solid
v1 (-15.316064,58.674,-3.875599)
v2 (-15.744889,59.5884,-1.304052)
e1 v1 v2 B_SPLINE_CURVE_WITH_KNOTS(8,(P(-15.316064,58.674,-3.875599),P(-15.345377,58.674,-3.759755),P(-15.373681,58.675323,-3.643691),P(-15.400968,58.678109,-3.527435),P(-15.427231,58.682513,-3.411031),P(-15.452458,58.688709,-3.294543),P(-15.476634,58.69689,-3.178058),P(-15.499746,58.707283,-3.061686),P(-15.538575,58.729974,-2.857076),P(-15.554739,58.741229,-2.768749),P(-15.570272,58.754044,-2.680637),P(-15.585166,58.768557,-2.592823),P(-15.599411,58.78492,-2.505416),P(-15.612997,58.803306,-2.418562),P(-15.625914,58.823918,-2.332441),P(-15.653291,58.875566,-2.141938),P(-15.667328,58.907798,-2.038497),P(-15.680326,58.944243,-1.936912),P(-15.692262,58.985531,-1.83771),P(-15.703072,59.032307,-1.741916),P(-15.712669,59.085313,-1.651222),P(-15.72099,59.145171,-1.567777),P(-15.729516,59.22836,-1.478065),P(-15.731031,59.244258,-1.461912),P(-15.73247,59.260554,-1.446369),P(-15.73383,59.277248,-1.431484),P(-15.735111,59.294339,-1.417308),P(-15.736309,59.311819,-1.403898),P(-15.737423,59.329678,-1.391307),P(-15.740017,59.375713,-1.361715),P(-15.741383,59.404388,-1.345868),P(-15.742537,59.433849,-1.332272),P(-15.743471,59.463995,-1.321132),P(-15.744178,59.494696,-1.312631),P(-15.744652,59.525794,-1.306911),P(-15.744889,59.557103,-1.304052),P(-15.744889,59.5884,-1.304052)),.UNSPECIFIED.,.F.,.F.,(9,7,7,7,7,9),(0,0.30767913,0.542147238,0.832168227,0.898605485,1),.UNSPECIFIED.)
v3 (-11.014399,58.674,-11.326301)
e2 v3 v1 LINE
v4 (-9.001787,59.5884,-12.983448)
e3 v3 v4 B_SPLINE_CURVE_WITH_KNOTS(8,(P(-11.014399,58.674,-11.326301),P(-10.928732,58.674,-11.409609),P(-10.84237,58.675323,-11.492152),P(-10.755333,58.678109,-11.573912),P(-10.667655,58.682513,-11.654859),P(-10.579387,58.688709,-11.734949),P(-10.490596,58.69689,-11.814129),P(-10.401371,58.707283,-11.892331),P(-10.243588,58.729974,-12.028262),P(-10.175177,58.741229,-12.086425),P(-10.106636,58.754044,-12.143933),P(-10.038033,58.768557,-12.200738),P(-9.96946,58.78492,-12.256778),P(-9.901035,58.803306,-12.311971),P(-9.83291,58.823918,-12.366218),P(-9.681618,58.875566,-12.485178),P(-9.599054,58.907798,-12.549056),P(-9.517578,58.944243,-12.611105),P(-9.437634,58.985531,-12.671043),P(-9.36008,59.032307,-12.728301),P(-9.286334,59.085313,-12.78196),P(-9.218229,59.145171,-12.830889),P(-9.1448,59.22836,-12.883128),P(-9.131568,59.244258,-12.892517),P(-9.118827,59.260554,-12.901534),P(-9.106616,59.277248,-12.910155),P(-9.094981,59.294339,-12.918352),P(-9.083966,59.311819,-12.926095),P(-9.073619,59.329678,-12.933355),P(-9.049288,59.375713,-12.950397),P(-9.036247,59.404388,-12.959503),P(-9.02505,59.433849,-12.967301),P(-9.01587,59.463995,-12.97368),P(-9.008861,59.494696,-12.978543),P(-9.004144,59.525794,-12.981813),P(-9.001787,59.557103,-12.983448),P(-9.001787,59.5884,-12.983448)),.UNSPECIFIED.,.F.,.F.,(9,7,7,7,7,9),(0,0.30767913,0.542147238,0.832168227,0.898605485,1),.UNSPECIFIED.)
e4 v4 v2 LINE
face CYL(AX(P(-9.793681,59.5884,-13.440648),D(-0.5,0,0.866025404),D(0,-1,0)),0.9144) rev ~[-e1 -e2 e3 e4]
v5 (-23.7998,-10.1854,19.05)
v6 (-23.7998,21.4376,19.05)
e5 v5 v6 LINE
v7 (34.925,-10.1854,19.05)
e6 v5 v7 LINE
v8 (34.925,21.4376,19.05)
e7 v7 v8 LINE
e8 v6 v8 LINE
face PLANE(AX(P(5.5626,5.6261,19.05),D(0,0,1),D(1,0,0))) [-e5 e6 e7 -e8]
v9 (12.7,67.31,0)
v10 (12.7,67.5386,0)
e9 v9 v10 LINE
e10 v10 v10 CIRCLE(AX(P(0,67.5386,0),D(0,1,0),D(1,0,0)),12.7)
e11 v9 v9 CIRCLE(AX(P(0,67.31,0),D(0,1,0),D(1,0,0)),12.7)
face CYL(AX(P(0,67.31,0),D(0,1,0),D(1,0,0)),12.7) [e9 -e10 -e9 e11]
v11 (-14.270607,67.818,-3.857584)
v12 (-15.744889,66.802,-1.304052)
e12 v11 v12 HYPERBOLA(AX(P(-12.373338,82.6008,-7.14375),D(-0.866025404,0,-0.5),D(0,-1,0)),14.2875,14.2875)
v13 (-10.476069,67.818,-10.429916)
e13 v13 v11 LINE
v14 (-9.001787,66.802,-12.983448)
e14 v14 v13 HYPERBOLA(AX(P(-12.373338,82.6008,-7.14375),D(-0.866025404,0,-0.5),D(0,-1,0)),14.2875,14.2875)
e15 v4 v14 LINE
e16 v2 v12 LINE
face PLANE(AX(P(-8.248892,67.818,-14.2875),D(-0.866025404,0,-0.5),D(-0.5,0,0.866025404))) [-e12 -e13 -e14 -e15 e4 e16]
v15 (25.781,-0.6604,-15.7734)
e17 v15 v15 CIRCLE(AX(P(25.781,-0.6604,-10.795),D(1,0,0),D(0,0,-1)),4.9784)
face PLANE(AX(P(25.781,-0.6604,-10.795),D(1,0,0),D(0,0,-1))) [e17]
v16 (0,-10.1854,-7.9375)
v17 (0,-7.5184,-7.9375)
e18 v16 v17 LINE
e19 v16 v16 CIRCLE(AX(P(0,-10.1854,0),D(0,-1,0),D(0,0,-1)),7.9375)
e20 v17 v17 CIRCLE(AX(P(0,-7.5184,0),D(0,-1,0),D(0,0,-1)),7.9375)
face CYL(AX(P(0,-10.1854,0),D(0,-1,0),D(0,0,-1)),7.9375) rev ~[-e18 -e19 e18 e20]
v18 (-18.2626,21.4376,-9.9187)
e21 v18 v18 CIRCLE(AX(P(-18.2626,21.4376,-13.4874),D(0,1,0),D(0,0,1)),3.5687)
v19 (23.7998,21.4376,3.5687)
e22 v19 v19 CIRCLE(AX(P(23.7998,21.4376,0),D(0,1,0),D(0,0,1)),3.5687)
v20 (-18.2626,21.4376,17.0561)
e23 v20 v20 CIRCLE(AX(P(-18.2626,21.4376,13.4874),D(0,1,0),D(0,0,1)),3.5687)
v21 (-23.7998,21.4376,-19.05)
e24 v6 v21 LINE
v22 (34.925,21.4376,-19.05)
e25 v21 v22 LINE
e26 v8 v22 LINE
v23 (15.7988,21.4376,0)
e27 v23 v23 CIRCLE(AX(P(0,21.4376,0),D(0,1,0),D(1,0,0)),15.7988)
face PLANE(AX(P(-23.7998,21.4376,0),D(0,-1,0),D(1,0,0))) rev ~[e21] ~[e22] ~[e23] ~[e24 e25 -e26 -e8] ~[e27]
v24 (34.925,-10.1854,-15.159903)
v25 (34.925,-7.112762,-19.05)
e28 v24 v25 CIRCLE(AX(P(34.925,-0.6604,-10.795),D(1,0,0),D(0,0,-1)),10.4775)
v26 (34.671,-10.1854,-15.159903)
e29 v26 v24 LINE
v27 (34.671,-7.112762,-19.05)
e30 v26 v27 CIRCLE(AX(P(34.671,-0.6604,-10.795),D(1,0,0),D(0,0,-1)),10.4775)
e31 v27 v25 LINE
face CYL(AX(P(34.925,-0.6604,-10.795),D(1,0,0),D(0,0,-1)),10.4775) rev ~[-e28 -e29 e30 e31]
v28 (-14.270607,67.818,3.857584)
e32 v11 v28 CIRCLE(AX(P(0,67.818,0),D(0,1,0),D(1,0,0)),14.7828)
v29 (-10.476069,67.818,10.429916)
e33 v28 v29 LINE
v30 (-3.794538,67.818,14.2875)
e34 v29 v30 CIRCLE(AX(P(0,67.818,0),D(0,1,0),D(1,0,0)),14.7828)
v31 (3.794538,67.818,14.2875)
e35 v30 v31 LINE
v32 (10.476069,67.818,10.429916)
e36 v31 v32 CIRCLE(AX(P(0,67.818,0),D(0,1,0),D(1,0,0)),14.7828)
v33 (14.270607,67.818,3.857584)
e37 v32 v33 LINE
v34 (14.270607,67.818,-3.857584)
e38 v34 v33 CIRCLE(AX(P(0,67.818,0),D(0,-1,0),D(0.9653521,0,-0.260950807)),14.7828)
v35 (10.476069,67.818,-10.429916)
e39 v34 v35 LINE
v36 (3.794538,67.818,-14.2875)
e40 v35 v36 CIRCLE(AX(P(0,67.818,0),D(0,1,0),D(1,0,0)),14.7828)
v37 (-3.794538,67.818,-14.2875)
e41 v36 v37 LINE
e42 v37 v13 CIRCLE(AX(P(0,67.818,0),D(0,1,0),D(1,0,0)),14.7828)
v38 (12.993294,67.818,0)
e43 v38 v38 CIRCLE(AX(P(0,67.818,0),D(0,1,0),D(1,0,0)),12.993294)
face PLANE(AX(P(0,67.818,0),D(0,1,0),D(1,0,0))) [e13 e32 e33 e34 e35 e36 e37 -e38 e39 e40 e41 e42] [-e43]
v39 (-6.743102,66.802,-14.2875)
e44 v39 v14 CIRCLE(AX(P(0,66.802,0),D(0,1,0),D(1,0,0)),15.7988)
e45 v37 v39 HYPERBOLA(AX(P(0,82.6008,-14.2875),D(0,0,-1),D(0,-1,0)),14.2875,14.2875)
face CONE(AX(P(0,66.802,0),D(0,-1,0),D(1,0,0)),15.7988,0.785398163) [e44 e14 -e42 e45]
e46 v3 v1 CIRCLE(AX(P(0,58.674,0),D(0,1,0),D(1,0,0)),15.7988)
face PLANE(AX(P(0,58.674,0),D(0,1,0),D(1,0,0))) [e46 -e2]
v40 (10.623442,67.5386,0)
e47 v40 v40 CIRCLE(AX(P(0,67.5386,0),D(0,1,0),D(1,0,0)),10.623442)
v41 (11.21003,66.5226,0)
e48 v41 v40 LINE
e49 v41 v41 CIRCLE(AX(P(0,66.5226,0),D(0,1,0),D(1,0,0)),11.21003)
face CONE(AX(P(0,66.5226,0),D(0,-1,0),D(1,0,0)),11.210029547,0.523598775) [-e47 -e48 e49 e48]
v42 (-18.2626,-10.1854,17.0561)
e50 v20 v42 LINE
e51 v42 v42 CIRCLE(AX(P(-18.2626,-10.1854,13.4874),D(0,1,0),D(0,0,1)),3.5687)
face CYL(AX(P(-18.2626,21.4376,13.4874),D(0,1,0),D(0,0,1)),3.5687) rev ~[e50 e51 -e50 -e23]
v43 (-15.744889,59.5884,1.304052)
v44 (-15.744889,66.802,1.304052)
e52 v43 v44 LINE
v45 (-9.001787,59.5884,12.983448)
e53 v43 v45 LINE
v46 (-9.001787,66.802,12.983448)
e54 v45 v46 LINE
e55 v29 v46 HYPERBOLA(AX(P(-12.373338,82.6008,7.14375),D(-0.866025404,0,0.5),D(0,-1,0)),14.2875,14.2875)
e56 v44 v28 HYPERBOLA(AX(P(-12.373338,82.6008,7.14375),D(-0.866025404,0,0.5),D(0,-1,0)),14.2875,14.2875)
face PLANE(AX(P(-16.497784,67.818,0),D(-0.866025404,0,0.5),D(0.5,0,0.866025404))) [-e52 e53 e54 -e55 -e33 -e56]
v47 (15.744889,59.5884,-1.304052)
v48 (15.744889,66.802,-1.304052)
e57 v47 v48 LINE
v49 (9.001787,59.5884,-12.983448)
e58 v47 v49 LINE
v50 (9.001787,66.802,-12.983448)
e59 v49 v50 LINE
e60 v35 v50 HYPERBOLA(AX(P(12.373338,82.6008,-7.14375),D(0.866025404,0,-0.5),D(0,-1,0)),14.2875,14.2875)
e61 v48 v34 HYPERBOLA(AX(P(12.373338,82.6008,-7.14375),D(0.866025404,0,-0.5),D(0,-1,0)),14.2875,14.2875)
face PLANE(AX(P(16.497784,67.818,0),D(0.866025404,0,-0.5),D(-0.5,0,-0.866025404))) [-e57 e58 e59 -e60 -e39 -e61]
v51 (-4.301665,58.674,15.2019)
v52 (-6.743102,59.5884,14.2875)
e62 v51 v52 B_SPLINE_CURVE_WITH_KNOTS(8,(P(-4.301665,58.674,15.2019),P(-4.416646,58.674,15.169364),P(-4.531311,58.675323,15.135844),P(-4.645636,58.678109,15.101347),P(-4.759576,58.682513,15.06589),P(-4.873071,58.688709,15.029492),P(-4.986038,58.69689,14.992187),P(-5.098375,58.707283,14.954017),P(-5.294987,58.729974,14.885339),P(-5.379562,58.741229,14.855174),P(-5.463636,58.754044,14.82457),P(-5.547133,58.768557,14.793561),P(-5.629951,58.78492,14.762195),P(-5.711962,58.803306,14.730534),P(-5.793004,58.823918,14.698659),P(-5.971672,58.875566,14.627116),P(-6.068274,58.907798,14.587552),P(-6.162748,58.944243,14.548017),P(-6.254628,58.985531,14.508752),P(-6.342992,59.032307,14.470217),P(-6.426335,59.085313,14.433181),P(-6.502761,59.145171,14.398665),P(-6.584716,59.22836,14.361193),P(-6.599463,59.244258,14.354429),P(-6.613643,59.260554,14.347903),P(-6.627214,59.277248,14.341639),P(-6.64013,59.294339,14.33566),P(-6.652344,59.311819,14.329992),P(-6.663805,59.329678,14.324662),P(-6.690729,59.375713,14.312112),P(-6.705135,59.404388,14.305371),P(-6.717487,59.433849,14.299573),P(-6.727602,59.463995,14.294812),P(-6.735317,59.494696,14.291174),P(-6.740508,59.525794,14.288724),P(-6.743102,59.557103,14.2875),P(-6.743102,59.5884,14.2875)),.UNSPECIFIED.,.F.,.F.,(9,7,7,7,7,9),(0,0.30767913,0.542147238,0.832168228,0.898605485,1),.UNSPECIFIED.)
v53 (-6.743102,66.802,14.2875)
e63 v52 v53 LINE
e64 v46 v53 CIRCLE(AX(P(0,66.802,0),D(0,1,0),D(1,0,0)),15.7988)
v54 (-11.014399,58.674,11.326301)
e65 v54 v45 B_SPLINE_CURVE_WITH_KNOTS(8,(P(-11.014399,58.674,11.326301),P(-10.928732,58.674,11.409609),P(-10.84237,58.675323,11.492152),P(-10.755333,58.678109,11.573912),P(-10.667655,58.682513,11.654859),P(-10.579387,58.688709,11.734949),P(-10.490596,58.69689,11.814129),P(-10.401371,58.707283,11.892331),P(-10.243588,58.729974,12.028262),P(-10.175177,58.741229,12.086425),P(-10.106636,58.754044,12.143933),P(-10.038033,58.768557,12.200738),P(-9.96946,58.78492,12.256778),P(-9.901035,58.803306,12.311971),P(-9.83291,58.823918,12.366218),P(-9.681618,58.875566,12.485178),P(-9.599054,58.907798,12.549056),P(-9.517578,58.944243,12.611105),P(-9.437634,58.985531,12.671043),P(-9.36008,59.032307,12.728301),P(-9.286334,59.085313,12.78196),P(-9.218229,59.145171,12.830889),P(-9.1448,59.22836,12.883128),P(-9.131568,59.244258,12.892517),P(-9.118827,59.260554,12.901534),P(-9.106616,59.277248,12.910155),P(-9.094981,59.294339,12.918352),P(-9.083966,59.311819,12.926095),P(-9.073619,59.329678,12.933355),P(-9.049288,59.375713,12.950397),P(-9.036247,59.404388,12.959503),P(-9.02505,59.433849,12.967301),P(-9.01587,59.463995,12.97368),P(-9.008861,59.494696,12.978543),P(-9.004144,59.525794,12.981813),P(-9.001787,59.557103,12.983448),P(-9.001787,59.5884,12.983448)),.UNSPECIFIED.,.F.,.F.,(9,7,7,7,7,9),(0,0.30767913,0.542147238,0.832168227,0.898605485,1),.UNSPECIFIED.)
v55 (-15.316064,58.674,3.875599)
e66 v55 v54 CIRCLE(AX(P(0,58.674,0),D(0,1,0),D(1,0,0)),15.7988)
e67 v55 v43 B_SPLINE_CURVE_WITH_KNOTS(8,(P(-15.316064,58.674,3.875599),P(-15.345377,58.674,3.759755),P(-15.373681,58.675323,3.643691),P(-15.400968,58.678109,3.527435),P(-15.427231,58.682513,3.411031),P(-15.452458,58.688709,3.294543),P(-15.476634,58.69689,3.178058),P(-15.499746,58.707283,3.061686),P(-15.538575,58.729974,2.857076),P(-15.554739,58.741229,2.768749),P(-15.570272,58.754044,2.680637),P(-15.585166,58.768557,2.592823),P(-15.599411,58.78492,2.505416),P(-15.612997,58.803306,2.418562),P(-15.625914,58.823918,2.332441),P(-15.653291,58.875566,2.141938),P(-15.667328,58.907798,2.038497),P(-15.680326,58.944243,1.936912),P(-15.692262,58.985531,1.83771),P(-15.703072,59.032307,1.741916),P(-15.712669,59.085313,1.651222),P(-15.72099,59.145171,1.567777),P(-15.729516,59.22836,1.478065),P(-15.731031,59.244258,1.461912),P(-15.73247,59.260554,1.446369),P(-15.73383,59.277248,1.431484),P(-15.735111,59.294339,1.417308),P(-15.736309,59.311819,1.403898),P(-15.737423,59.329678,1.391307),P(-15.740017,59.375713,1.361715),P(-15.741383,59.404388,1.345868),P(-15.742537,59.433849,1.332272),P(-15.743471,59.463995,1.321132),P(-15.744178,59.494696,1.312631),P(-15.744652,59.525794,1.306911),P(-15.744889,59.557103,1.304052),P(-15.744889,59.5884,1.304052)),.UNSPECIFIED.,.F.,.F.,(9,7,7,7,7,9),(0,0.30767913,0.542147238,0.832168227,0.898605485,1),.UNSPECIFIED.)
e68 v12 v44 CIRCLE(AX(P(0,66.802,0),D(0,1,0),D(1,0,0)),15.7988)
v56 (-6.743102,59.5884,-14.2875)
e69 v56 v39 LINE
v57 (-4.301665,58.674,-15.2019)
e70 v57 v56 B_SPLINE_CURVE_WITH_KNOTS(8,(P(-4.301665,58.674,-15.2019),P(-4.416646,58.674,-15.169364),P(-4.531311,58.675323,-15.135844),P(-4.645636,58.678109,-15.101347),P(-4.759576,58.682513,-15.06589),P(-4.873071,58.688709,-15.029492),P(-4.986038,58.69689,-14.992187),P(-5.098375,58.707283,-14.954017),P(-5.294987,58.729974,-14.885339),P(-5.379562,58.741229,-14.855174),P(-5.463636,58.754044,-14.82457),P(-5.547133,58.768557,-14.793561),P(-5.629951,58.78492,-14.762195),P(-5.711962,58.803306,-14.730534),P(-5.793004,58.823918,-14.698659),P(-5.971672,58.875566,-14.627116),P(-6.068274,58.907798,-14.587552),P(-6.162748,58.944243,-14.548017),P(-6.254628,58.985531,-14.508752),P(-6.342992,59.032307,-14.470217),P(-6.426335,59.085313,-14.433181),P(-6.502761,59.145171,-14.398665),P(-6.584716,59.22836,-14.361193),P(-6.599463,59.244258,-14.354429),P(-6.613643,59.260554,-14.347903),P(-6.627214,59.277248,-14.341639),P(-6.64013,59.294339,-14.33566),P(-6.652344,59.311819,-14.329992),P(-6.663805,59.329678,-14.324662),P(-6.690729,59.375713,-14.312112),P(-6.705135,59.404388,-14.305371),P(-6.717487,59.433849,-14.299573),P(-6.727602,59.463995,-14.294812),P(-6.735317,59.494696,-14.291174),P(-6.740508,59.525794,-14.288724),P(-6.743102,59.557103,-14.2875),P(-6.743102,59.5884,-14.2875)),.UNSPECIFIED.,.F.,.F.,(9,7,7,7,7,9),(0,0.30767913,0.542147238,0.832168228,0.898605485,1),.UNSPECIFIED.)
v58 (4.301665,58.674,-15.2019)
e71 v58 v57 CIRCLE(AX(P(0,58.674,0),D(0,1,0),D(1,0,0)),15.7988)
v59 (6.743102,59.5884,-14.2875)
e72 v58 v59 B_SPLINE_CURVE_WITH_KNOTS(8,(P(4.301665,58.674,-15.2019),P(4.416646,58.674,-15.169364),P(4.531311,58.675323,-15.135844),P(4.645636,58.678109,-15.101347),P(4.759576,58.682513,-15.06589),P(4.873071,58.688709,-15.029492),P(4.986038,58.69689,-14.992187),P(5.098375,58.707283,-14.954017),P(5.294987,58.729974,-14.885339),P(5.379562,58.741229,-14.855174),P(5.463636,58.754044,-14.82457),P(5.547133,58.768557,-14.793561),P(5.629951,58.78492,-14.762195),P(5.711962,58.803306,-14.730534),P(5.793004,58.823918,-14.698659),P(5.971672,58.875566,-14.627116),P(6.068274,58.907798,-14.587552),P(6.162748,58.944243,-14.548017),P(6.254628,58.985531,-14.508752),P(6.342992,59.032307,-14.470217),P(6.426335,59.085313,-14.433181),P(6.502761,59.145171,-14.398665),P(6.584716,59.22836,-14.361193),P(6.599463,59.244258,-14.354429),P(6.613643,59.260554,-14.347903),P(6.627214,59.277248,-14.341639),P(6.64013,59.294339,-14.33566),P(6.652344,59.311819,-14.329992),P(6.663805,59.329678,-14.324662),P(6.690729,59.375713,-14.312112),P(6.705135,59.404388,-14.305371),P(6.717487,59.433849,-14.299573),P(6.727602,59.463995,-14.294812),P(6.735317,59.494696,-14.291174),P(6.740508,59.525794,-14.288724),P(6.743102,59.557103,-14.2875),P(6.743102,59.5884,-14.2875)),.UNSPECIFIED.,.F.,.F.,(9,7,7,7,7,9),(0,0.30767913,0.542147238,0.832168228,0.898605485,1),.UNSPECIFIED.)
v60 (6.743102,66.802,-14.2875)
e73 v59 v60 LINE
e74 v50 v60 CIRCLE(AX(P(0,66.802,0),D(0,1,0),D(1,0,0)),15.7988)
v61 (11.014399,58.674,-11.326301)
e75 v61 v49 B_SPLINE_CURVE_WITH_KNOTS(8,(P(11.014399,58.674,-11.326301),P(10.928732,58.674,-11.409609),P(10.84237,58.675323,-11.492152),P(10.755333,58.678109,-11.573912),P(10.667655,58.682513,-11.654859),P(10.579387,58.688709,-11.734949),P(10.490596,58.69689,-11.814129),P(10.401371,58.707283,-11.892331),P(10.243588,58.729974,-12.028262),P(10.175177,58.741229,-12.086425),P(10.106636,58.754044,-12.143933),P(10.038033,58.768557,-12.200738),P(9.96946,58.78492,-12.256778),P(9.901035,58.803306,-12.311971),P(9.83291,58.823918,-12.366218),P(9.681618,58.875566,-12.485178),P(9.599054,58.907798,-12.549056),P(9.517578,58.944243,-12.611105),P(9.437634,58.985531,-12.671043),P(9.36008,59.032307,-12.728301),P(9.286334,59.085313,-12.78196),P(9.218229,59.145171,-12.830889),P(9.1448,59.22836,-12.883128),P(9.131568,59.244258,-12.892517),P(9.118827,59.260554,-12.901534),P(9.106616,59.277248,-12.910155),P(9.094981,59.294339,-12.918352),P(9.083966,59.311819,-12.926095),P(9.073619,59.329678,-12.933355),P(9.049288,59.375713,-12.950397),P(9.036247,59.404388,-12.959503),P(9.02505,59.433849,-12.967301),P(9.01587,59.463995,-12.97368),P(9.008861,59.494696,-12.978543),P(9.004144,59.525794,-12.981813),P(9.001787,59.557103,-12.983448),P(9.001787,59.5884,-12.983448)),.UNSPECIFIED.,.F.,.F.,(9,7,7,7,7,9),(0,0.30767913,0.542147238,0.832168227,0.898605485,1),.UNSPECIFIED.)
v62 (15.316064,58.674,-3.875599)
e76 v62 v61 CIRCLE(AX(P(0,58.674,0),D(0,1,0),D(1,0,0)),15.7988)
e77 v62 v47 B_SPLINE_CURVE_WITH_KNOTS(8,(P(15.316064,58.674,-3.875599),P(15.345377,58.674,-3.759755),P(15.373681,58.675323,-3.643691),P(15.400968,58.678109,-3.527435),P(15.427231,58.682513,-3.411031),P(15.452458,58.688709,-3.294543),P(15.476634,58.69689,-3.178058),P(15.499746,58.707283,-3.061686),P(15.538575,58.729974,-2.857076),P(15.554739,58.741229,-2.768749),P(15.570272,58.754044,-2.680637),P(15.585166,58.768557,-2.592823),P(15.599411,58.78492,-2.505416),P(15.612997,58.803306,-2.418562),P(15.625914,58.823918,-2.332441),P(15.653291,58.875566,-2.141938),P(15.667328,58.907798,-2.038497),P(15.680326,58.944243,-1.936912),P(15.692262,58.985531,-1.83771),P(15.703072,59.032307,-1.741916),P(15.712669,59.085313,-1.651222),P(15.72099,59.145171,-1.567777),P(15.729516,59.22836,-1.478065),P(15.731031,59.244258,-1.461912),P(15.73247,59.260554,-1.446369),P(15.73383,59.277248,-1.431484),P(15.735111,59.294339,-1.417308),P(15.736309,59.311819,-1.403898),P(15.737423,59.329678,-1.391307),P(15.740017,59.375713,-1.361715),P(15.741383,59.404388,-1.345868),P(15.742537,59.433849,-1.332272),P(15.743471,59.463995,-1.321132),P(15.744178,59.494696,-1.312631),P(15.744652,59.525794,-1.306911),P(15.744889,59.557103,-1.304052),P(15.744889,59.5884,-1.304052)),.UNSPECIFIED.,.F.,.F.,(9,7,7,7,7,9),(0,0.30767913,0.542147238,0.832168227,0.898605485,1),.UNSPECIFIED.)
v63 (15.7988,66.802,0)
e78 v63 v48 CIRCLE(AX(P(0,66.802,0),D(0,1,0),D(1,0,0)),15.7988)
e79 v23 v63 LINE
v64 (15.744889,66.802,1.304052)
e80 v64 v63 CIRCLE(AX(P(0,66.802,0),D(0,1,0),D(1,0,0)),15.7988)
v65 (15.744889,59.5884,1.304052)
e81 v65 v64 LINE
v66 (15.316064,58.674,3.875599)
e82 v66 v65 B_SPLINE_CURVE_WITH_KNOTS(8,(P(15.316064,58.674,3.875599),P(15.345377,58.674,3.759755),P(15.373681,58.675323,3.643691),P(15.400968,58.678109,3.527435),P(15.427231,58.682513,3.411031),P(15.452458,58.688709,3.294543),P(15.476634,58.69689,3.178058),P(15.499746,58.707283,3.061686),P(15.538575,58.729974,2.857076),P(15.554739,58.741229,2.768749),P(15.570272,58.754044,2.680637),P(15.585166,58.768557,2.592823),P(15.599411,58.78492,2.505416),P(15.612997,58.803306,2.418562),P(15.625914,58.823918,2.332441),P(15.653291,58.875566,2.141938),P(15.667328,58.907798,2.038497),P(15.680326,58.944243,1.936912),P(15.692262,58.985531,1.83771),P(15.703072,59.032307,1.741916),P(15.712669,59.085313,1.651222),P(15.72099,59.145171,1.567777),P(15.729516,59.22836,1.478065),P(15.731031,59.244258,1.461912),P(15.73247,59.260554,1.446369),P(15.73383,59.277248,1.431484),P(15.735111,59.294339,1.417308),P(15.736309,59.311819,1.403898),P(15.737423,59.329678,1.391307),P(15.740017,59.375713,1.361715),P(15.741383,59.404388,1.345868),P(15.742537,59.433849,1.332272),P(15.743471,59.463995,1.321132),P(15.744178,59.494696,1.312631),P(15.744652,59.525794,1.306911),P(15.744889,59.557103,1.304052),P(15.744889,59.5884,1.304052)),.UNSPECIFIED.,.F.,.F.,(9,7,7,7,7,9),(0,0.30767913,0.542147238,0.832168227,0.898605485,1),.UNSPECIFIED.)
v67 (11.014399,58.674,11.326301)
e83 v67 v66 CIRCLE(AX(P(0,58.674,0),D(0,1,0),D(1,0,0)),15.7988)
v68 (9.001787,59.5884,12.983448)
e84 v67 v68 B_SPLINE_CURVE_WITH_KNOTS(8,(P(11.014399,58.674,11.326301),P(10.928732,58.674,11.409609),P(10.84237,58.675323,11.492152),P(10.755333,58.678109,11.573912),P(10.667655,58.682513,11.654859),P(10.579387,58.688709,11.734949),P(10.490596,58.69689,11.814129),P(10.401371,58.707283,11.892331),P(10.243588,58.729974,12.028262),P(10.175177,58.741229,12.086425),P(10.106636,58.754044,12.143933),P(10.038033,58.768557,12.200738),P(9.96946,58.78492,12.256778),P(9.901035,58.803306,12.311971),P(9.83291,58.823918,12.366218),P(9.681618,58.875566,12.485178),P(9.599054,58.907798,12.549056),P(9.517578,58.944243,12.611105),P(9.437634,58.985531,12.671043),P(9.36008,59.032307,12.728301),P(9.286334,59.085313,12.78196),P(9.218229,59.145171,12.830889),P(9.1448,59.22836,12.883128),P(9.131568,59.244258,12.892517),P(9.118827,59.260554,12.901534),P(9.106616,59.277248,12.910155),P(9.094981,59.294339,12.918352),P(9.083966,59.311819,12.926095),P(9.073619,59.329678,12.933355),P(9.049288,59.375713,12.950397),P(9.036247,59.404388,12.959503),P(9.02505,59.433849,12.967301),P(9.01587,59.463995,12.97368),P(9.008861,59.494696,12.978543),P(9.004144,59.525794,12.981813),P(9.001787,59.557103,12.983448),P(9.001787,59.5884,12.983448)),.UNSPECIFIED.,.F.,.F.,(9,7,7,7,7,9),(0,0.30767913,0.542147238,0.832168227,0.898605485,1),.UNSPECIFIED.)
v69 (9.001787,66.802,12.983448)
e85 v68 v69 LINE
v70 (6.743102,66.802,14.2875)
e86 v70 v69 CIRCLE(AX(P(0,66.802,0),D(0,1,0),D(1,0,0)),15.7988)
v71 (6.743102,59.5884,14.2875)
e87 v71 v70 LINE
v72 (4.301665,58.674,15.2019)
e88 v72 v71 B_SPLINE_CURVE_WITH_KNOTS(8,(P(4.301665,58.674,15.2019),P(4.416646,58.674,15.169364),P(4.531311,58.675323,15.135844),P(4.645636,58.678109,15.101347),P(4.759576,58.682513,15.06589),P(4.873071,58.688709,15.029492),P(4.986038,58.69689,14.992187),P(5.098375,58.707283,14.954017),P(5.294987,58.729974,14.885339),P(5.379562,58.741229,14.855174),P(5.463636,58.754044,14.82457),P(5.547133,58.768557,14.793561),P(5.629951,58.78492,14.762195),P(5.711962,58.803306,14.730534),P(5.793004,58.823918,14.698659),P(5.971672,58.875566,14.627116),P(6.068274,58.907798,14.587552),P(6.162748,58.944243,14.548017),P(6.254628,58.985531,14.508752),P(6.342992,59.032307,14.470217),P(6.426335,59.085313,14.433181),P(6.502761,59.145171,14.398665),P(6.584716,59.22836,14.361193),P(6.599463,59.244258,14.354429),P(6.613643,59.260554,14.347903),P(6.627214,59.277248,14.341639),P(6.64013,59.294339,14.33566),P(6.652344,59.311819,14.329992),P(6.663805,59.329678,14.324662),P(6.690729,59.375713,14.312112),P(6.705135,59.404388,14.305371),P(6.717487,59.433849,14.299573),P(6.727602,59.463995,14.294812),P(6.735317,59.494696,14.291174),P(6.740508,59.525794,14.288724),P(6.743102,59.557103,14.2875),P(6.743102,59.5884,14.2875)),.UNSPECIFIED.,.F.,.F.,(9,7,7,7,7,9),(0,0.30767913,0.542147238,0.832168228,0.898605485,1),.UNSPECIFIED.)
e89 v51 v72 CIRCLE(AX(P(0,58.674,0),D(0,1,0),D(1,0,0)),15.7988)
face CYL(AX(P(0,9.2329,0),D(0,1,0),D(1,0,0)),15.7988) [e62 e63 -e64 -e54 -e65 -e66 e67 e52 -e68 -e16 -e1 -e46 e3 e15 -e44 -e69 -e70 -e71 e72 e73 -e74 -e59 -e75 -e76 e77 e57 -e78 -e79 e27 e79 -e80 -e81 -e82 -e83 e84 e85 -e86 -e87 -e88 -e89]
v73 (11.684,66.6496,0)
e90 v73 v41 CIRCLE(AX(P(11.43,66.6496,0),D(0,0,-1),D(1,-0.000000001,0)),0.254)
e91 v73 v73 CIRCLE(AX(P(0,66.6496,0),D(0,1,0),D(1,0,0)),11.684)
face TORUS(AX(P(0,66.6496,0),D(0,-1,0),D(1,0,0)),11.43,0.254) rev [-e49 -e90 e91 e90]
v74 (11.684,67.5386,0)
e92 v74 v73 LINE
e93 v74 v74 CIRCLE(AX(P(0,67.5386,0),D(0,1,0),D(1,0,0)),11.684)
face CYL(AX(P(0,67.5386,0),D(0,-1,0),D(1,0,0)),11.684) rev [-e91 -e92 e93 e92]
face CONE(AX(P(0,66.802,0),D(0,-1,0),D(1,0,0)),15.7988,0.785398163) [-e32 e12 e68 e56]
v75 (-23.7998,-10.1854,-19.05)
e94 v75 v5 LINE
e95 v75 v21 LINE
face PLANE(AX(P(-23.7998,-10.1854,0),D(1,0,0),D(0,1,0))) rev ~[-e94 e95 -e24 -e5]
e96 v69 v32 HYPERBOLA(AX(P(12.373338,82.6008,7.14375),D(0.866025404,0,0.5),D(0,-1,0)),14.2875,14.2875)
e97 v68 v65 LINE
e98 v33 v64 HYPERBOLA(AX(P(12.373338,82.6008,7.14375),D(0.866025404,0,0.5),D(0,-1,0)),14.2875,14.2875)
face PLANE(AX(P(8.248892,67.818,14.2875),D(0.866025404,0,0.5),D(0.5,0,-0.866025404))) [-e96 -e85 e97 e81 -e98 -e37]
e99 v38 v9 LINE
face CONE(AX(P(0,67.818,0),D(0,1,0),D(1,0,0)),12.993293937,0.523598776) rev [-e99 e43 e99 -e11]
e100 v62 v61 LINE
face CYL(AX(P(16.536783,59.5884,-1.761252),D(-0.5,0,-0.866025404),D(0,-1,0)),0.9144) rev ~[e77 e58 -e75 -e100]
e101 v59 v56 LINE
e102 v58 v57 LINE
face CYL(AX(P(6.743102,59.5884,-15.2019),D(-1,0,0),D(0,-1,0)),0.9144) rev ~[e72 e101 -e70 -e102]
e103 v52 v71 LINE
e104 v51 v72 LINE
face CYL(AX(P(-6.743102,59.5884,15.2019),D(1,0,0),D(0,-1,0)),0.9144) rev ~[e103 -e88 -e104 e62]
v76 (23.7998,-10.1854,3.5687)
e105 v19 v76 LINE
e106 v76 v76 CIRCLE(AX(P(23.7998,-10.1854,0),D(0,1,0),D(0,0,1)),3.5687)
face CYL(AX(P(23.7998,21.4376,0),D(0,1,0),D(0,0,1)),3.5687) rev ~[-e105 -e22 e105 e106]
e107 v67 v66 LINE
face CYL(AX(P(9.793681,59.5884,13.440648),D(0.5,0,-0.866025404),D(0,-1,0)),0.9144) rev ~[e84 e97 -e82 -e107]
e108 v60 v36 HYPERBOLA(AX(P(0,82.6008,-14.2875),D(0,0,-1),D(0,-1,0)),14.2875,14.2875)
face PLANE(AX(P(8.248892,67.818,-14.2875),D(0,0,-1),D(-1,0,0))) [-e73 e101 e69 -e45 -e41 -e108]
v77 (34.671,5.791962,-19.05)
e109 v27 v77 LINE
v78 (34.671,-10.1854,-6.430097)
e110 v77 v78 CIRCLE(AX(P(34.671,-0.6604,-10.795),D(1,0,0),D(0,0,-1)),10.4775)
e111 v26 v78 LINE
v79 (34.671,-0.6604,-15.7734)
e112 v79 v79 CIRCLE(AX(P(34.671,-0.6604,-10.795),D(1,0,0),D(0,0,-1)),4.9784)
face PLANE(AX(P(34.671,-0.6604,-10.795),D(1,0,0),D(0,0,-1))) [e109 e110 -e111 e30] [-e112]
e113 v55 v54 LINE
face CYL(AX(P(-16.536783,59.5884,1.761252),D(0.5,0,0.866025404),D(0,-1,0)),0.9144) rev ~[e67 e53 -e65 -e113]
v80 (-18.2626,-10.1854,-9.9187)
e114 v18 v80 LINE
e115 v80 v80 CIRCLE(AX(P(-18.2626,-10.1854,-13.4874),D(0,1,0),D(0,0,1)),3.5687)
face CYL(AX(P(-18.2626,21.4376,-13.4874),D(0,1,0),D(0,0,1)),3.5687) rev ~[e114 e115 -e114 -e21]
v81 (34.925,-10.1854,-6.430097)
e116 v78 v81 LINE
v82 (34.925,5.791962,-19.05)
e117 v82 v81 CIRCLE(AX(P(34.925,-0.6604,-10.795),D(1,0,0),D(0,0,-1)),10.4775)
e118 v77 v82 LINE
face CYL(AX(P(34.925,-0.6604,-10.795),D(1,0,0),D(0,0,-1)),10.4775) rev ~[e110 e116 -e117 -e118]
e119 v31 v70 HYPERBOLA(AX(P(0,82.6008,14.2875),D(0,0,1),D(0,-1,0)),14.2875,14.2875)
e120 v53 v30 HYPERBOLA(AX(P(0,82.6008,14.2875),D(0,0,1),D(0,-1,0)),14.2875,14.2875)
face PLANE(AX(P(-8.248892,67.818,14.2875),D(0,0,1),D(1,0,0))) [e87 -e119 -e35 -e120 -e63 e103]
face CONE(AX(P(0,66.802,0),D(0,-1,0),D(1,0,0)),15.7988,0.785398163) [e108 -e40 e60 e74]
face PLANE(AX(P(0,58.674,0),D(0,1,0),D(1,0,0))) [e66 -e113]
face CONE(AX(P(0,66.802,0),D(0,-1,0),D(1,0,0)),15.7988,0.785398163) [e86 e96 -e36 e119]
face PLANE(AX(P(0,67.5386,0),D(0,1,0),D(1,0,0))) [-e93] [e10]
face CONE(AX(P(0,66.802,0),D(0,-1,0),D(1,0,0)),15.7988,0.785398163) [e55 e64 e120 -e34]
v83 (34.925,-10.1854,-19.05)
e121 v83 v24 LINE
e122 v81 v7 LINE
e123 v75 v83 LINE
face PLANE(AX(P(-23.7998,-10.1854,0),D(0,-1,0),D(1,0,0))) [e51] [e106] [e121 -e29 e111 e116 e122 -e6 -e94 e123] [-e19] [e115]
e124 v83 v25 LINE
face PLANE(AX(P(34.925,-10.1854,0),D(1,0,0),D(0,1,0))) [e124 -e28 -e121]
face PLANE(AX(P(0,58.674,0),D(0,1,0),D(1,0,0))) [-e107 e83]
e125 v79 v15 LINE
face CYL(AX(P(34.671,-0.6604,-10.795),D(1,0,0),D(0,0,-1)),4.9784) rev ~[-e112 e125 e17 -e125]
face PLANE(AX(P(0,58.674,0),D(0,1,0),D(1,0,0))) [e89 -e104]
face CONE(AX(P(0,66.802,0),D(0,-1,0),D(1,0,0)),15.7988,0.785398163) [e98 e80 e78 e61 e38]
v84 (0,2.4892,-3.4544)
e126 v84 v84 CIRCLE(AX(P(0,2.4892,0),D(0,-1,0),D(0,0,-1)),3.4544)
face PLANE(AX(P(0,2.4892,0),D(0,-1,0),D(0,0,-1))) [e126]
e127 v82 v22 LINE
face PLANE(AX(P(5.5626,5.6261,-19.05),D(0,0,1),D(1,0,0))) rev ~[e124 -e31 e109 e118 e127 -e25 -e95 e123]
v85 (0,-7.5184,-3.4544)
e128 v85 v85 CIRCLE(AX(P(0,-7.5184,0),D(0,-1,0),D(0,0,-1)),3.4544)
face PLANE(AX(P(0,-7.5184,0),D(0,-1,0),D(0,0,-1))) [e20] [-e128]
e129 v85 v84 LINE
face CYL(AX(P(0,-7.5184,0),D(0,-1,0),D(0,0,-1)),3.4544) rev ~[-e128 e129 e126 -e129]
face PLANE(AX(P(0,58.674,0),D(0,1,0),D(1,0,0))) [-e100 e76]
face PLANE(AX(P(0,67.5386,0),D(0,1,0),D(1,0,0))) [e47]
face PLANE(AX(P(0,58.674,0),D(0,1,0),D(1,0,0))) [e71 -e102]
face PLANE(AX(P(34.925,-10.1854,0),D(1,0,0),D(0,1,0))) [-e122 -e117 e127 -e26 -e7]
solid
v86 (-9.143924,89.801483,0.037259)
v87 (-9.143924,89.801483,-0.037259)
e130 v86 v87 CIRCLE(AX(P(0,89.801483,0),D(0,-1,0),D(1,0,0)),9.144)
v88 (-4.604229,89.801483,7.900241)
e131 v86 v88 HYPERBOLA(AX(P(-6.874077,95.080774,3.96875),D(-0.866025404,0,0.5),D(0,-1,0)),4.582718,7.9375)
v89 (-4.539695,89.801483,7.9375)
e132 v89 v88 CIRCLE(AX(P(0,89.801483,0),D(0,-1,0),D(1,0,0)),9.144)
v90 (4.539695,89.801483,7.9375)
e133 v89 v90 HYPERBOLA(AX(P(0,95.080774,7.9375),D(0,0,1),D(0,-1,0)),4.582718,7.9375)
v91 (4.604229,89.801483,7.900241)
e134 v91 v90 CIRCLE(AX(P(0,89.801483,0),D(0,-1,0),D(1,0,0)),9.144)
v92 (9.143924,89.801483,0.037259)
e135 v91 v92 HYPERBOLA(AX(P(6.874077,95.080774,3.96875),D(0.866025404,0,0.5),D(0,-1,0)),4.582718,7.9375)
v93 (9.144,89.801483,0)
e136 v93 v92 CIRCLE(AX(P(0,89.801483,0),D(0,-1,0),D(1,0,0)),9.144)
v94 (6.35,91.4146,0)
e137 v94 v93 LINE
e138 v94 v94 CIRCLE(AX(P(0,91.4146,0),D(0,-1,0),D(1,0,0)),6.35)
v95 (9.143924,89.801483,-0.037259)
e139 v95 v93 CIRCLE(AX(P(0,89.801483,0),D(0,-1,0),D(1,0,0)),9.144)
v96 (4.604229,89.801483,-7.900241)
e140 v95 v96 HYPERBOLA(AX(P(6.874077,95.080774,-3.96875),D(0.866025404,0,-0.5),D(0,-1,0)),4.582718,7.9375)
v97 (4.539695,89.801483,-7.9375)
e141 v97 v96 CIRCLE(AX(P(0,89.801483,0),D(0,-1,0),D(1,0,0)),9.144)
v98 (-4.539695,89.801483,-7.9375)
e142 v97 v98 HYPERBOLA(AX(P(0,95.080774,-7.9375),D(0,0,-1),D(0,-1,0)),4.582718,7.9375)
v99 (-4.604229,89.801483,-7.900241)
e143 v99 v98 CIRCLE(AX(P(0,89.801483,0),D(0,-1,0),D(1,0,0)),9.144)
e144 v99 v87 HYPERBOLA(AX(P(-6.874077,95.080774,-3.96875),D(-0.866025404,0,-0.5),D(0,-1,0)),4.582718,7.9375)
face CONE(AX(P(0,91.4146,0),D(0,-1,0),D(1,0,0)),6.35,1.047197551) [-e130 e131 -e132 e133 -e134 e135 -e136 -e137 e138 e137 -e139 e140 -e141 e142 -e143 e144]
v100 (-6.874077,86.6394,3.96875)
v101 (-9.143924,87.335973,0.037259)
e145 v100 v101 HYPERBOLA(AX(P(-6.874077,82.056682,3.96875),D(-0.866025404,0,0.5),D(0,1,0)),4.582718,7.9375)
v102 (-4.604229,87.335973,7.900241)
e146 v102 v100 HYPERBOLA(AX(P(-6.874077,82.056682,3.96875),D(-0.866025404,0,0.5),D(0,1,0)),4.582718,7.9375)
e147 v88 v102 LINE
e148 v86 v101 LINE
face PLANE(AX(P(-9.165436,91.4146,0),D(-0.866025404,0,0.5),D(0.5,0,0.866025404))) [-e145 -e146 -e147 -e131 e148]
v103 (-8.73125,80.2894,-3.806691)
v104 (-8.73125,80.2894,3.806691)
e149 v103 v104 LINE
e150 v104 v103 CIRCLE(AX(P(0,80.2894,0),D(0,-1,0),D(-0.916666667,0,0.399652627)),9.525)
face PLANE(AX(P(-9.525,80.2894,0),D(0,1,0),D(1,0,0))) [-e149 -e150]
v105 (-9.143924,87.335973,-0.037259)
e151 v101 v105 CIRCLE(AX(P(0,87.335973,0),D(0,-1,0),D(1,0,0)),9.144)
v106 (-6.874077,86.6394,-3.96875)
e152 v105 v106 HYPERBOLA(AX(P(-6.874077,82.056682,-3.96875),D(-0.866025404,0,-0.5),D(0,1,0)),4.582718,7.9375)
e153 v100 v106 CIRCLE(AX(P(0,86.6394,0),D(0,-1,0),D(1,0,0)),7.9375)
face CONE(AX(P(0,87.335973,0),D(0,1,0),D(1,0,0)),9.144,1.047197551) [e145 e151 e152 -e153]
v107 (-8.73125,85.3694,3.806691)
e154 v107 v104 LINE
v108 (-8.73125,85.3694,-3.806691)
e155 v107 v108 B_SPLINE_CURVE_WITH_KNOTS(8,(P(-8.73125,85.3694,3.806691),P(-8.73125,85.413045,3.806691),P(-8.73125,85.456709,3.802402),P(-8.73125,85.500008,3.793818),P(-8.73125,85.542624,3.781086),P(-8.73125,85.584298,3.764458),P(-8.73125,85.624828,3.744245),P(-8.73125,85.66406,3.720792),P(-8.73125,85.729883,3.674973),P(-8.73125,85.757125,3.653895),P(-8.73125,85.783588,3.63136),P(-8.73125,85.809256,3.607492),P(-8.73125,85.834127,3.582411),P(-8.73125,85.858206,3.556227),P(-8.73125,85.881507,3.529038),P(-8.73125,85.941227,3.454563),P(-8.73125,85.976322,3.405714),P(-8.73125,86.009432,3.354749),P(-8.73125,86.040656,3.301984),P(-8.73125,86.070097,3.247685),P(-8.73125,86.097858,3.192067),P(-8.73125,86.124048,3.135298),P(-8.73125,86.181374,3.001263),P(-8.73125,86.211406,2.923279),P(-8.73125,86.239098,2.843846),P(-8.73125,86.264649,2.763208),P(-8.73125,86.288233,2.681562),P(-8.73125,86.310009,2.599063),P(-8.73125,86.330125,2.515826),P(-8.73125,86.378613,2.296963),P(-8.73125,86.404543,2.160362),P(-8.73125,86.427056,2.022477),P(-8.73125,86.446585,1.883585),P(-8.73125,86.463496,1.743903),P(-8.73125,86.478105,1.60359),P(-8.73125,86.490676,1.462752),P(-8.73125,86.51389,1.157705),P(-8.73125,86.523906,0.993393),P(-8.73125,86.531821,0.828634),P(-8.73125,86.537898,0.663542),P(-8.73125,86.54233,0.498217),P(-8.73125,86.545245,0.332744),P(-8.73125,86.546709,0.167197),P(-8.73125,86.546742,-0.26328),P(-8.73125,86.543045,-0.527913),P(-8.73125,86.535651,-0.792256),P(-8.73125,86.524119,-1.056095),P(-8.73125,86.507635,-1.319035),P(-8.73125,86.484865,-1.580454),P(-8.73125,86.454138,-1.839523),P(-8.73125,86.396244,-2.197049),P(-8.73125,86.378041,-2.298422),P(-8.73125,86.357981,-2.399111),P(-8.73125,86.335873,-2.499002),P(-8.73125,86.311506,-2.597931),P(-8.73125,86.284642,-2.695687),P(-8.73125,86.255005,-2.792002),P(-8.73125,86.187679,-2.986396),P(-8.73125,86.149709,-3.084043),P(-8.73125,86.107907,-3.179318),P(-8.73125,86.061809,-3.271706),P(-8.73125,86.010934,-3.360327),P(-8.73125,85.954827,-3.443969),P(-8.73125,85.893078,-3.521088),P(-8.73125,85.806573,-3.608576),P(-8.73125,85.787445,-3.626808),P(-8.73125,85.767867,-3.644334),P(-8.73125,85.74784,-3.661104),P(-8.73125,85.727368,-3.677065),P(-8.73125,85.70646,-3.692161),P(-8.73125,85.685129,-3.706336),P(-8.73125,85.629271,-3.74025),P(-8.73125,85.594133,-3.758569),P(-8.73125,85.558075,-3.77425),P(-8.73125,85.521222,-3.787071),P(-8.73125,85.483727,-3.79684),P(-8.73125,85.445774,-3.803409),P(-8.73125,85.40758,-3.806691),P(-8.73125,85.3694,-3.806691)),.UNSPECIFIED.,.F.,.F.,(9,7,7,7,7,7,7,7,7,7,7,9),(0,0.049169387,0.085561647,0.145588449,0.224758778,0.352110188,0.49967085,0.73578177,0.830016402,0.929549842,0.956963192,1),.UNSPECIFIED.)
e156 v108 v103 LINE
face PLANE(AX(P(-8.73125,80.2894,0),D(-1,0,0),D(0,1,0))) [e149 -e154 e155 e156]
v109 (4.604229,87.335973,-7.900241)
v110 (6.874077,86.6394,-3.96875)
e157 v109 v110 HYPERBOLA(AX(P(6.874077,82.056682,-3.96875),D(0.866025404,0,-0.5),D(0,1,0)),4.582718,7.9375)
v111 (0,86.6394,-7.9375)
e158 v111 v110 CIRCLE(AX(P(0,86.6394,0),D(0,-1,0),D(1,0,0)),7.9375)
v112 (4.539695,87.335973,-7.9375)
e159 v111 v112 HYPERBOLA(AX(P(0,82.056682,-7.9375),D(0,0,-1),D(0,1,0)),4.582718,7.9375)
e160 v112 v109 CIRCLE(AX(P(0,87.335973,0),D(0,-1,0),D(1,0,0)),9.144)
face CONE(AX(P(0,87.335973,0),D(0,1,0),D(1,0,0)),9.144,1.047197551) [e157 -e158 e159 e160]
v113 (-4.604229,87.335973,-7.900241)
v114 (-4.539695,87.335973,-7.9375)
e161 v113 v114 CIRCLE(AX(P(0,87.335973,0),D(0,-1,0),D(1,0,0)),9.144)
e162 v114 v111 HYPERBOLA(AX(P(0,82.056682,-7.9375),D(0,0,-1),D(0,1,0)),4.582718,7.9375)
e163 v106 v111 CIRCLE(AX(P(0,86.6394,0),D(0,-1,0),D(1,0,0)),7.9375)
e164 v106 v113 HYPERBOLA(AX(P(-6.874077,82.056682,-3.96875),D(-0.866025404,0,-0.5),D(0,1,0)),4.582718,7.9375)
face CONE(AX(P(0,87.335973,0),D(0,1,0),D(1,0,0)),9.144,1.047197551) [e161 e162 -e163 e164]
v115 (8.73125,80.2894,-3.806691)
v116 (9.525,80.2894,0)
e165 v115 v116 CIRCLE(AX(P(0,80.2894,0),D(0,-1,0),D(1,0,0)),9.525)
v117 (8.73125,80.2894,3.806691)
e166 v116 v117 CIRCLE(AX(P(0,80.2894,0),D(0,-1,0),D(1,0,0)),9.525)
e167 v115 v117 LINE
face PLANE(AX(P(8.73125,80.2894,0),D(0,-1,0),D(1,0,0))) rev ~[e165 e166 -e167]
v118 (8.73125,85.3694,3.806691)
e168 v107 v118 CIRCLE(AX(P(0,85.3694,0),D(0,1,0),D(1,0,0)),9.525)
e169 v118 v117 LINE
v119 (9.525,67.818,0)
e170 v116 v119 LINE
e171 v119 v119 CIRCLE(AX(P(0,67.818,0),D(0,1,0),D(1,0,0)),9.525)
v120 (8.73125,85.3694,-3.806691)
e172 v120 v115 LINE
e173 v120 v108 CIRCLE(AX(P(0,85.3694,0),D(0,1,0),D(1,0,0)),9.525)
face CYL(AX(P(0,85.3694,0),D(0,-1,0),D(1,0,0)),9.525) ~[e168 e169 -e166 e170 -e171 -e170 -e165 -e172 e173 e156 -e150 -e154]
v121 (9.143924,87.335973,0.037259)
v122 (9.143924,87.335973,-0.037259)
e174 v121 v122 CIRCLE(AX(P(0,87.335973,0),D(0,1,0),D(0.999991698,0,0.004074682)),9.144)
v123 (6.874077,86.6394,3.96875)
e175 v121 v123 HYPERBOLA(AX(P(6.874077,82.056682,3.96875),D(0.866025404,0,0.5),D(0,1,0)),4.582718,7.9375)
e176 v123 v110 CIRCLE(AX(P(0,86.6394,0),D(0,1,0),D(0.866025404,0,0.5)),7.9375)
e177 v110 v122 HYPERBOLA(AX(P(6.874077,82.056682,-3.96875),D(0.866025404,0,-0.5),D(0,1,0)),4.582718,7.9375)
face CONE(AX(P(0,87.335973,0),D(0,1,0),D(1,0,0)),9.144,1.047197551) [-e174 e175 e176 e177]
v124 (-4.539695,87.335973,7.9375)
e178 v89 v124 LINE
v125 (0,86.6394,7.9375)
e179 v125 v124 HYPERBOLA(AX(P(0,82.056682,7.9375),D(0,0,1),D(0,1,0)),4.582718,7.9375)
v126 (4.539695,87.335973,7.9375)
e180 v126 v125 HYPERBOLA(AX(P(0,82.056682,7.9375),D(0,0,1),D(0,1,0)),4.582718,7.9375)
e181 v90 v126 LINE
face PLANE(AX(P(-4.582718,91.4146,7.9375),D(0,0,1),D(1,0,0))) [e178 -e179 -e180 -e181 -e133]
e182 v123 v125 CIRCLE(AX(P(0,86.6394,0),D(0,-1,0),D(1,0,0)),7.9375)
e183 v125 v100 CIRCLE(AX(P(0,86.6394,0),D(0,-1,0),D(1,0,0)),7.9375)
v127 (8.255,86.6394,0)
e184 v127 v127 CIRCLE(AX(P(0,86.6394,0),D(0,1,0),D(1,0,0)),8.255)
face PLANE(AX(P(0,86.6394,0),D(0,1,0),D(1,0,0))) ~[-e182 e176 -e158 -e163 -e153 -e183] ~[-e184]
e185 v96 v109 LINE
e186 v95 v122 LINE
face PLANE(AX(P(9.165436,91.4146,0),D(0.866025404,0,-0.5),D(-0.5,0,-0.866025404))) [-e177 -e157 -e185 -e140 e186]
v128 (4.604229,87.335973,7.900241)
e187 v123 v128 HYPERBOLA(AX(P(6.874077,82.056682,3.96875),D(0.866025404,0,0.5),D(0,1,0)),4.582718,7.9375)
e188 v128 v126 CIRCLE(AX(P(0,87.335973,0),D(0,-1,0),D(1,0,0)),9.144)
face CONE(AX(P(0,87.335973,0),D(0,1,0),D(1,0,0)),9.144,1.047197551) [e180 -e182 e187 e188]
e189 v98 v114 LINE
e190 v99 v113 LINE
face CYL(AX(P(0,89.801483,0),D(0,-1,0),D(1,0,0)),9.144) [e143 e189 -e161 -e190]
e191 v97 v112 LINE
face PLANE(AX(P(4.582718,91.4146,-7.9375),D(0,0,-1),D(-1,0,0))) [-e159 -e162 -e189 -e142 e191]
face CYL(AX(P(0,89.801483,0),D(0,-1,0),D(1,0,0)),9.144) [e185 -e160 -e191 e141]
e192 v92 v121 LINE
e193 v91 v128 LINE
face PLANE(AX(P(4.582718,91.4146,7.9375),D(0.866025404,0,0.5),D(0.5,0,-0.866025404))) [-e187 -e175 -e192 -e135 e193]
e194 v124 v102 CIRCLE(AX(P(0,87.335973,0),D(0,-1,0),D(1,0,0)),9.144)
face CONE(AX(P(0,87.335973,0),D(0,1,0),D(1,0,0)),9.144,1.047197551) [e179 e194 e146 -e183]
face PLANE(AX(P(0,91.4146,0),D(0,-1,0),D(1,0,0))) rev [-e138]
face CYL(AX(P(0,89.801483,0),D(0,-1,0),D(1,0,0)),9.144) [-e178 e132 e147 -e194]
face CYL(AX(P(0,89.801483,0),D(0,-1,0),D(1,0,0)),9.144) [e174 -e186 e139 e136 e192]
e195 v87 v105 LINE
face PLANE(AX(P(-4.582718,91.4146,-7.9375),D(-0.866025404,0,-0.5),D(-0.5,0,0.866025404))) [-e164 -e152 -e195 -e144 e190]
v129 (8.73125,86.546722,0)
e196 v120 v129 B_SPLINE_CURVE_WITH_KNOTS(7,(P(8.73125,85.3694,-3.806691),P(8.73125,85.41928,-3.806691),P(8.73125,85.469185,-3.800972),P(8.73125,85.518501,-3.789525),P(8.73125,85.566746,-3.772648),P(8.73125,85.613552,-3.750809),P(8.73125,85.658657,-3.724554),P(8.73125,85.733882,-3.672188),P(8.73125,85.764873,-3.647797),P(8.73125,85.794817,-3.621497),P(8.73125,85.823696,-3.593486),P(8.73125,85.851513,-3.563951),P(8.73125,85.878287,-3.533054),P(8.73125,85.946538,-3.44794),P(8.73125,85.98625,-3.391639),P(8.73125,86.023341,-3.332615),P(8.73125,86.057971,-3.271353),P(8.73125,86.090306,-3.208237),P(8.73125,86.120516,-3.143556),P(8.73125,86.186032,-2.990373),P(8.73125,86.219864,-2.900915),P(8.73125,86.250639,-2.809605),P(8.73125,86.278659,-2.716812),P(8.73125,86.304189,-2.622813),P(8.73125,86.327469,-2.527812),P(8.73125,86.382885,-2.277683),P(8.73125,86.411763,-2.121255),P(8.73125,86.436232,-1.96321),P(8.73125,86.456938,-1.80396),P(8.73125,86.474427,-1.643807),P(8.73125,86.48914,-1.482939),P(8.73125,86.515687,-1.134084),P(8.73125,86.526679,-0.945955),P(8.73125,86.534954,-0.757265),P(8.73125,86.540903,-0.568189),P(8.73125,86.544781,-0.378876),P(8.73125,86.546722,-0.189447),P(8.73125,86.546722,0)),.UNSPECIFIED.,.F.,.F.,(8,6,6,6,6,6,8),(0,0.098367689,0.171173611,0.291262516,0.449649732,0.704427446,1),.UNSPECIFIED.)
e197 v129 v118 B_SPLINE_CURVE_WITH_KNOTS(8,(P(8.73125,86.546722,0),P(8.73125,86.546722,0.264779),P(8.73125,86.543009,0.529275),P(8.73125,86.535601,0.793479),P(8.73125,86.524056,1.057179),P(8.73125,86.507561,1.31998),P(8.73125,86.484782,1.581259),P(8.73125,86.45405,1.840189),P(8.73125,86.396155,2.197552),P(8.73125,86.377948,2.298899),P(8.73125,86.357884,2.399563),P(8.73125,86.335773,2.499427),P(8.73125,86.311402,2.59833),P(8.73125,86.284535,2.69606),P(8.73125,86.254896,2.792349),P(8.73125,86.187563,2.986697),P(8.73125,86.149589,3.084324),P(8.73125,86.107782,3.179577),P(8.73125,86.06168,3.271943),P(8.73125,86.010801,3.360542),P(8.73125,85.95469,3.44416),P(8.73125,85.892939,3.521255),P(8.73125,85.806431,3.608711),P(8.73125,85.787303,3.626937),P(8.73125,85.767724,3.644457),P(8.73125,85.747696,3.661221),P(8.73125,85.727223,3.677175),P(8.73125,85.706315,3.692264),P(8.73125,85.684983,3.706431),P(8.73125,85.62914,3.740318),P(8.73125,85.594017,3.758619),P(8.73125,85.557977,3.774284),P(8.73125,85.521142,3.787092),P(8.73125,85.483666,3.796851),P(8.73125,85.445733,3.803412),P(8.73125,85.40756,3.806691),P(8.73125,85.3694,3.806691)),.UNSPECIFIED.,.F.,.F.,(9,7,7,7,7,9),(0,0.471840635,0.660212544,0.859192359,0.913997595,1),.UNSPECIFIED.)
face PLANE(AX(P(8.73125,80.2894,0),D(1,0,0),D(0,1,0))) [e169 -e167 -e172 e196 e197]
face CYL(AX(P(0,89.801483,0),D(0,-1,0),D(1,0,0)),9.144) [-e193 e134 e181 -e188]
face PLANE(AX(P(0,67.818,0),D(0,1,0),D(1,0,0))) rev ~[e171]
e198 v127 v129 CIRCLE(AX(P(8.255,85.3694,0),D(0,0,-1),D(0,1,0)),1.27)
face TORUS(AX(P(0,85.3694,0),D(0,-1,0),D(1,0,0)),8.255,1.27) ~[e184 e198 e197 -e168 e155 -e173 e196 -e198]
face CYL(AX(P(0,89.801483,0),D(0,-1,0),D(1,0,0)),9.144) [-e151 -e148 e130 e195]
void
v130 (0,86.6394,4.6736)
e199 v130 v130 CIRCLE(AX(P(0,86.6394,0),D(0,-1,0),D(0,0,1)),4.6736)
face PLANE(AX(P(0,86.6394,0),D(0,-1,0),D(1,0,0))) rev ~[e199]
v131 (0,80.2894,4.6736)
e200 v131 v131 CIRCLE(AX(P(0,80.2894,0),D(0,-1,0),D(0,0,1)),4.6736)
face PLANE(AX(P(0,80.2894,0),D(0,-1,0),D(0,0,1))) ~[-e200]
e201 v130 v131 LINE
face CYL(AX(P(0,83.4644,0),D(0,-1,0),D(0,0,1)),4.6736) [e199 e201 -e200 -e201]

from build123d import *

# Parameters (mm, degrees)
SKETCH2_OUTSIDE_W   = 49.918
SKETCH2_OUTSIDE_H   = 49.918
CUT_EXTRUDE1_DEPTH  = 9.144
FILLET1_R           = 0.9144
SKETCH4_W           = 0.79375
SKETCH4_H           = 6.35
CUT_EXTRUDE2_DEPTH  = 11.1125
SKETCH5_W           = 4.6736
SKETCH5_H           = 6.35
SKETCH8_OUTSIDE_W   = 54.03
SKETCH8_OUTSIDE_H   = 54.03
CUT_EXTRUDE3_DEPTH  = 4.7752
SKETCH9_W           = 58.7248
SKETCH9_H           = 31.623
BOSS_EXTRUDE1_DEPTH = 19.05
SKETCH10_R          = 3.5687
CUT_EXTRUDE4_DEPTH  = 38.1
SKETCH11_R          = 10.4775
CUT_EXTRUDE5_DEPTH  = 0.254
SKETCH12_R          = 4.9784
CUT_EXTRUDE6_DEPTH  = 8.89
SKETCH14_R          = 7.9375
CUT_EXTRUDE7_DEPTH  = 2.667
SKETCH15_R          = 3.4544
CUT_EXTRUDE8_DEPTH  = 10.0076


with BuildPart() as part:
    # Sketch1 → Revolve1 (revolve)
    with BuildSketch(Plane.XY):
        with BuildLine():
            Line((9.4615, 0), (10.5918, 0))
            Line((10.5918, 0), (10.9728, 0.381))
            Line((10.9728, 0.381), (14.1097, 0.381))
            Line((14.1097, 0.381), (14.8717, 1.143))
            Line((14.8717, 1.143), (14.8717, 8.3058))
            Line((14.8717, 8.3058), (15.7988, 9.2329))
            Line((15.7988, 9.2329), (15.7988, 66.802))
            Line((15.7988, 66.802), (14.7828, 67.818))
            Line((14.7828, 67.818), (12.993293937, 67.818))
            Line((12.993293937, 67.818), (12.7, 67.31))
            Line((12.7, 67.31), (12.7, 67.5386))
            Line((12.7, 67.5386), (11.684, 67.5386))
            Line((11.684, 67.5386), (11.684, 66.6496))
            ThreePointArc((11.684, 66.6496), (11.495740037, 66.40425484), (11.210029547, 66.5226))
            Line((11.210029547, 66.5226), (10.623441674, 67.5386))
            Line((10.623441674, 67.5386), (0, 67.5386))
            Line((0, 67.5386), (0, 5.1308))
            Line((0, 5.1308), (2.3876, 5.1308))
            Line((2.3876, 5.1308), (2.3876, 1.3208))
            Line((2.3876, 1.3208), (8.5725, 1.3208))
            ThreePointArc((8.5725, 1.3208), (7.943882072, -0.196817928), (9.4615, 0.4318))
            Line((9.4615, 0.4318), (9.4615, 0))
        make_face()
    revolve(axis=Axis((0, 0, 0), (0, 1, 0)))

    # Sketch2 outside → Cut-Extrude1 (cut)
    with BuildSketch(Plane(origin=(0, 67.818, 0), x_dir=(1, 0, 0), z_dir=(0, 1, 0))):
        Rectangle(SKETCH2_OUTSIDE_W, SKETCH2_OUTSIDE_H)
        Polygon((16.497783942, 0), (8.248891971, 14.2875), (-8.248891971, 14.2875), (-16.497783942, 0), (-8.248891971, -14.2875), (8.248891971, -14.2875), align=None, mode=Mode.SUBTRACT)
    extrude(amount=-CUT_EXTRUDE1_DEPTH, mode=Mode.SUBTRACT)

    # Fillet1
    fillet1_edges = [part.edges().sort_by_distance(p)[0] for p in [
        (-12.373337957, 58.674, -7.14375),
        (0, 58.674, -14.2875),
        (12.373337957, 58.674, -7.14375),
        (12.373337957, 58.674, 7.14375),
        (0, 58.674, 14.2875),
        (-12.373337957, 58.674, 7.14375),
    ]]
    fillet(fillet1_edges, radius=FILLET1_R)

    # Sketch9 → Boss-Extrude1 (add, symmetric)
    with BuildSketch(Plane.XY):
        with Locations((5.5626, 5.6261)):
            Rectangle(SKETCH9_W, SKETCH9_H)
    extrude(amount=BOSS_EXTRUDE1_DEPTH, both=True)

    # Sketch10 → Cut-Extrude4 (cut)
    with BuildSketch(Plane(origin=(0, 21.4376, 0), x_dir=(1, 0, 0), z_dir=(0, 1, 0))):
        with Locations(Location((-18.2626, 13.4874, 0), (0, 0, 270))):  # turned: the seam where the file's is
            Circle(SKETCH10_R)
        with Locations(Location((-18.2626, -13.4874, 0), (0, 0, 270))):  # turned: the seam where the file's is
            Circle(SKETCH10_R)
        with Locations(Location((23.7998, 0, 0), (0, 0, 270))):  # turned: the seam where the file's is
            Circle(SKETCH10_R)
    extrude(amount=-CUT_EXTRUDE4_DEPTH, mode=Mode.SUBTRACT)

    # Sketch11 → Cut-Extrude5 (cut)
    with BuildSketch(Plane(origin=(34.925, 0, 0), x_dir=(0, 0, -1), z_dir=(1, 0, 0))):
        with Locations((10.795, -0.6604)):
            Circle(SKETCH11_R)
    extrude(amount=-CUT_EXTRUDE5_DEPTH, mode=Mode.SUBTRACT)

    # Sketch12 → Cut-Extrude6 (cut)
    with BuildSketch(Plane(origin=(34.671, 0, 0), x_dir=(0, 0, -1), z_dir=(1, 0, 0))):
        with Locations((10.795, -0.6604)):
            Circle(SKETCH12_R)
    extrude(amount=-CUT_EXTRUDE6_DEPTH, mode=Mode.SUBTRACT)

    # Sketch14 → Cut-Extrude7 (cut)
    with BuildSketch(Plane.XZ.offset(10.1854)):
        with Locations(Location((0, 0, 0), (0, 0, 270))):  # turned: the seam where the file's is
            Circle(SKETCH14_R)
    extrude(amount=-CUT_EXTRUDE7_DEPTH, mode=Mode.SUBTRACT)

    # Sketch15 → Cut-Extrude8 (cut)
    with BuildSketch(Plane.XZ.offset(7.5184)):
        with Locations(Location((0, 0, 0), (0, 0, 270))):  # turned: the seam where the file's is
            Circle(SKETCH15_R)
    extrude(amount=-CUT_EXTRUDE8_DEPTH, mode=Mode.SUBTRACT)


with BuildPart() as body_2:
    # Sketch3 → Revolve2 (revolve)
    with BuildSketch(Plane.XY):
        with BuildLine():
            Line((0, 67.818), (0, 86.6394))
            Line((0, 86.6394), (8.255, 86.6394))
            ThreePointArc((8.255, 86.6394), (9.153025612, 86.267425612), (9.525, 85.3694))
            Line((9.525, 85.3694), (9.525, 67.818))
            Line((9.525, 67.818), (0, 67.818))
        make_face()
    revolve(axis=Axis((0, 43.688, 0), (0, 1, 0)))

    # Sketch4 → Cut-Extrude2 (cut, symmetric)
    with BuildSketch(Plane.XY):
        with Locations((-9.128125, 83.4644)):
            Rectangle(SKETCH4_W, SKETCH4_H)
        with Locations((9.128125, 83.4644)):
            Rectangle(SKETCH4_W, SKETCH4_H)
    extrude(amount=CUT_EXTRUDE2_DEPTH, both=True, mode=Mode.SUBTRACT)

    # Sketch5 → 7_16-14 Tapped Hole1 (revolve, cut)
    with BuildSketch(Plane(origin=(0, 86.6394, 0), x_dir=(0, 0, 1), z_dir=(1, 0, 0))):
        with Locations((2.3368, 3.175)):
            Rectangle(SKETCH5_W, SKETCH5_H)
    revolve(axis=Axis((0, 92.9894, 0), (0, -1, 0)), mode=Mode.SUBTRACT)

    # Sketch7 → Revolve3 (revolve)
    with BuildSketch(Plane.XY):
        Polygon((0, 91.4146), (6.35, 91.4146), (9.144, 89.801483348), (9.144, 87.3359731), (7.9375, 86.6394), (0, 86.6394), align=None)
    revolve(axis=Axis((0, 0, 0), (0, -1, 0)))

    # Sketch8 outside → Cut-Extrude3 (cut)
    with BuildSketch(Plane(origin=(0, 91.4146, 0), x_dir=(1, 0, 0), z_dir=(0, 1, 0))):
        Rectangle(SKETCH8_OUTSIDE_W, SKETCH8_OUTSIDE_H)
        Polygon((9.165435523, 0), (4.582717762, 7.9375), (-4.582717762, 7.9375), (-9.165435523, 0), (-4.582717762, -7.9375), (4.582717762, -7.9375), align=None, mode=Mode.SUBTRACT)
    extrude(amount=-CUT_EXTRUDE3_DEPTH, mode=Mode.SUBTRACT)


solid = Compound([part.part, body_2.part])
